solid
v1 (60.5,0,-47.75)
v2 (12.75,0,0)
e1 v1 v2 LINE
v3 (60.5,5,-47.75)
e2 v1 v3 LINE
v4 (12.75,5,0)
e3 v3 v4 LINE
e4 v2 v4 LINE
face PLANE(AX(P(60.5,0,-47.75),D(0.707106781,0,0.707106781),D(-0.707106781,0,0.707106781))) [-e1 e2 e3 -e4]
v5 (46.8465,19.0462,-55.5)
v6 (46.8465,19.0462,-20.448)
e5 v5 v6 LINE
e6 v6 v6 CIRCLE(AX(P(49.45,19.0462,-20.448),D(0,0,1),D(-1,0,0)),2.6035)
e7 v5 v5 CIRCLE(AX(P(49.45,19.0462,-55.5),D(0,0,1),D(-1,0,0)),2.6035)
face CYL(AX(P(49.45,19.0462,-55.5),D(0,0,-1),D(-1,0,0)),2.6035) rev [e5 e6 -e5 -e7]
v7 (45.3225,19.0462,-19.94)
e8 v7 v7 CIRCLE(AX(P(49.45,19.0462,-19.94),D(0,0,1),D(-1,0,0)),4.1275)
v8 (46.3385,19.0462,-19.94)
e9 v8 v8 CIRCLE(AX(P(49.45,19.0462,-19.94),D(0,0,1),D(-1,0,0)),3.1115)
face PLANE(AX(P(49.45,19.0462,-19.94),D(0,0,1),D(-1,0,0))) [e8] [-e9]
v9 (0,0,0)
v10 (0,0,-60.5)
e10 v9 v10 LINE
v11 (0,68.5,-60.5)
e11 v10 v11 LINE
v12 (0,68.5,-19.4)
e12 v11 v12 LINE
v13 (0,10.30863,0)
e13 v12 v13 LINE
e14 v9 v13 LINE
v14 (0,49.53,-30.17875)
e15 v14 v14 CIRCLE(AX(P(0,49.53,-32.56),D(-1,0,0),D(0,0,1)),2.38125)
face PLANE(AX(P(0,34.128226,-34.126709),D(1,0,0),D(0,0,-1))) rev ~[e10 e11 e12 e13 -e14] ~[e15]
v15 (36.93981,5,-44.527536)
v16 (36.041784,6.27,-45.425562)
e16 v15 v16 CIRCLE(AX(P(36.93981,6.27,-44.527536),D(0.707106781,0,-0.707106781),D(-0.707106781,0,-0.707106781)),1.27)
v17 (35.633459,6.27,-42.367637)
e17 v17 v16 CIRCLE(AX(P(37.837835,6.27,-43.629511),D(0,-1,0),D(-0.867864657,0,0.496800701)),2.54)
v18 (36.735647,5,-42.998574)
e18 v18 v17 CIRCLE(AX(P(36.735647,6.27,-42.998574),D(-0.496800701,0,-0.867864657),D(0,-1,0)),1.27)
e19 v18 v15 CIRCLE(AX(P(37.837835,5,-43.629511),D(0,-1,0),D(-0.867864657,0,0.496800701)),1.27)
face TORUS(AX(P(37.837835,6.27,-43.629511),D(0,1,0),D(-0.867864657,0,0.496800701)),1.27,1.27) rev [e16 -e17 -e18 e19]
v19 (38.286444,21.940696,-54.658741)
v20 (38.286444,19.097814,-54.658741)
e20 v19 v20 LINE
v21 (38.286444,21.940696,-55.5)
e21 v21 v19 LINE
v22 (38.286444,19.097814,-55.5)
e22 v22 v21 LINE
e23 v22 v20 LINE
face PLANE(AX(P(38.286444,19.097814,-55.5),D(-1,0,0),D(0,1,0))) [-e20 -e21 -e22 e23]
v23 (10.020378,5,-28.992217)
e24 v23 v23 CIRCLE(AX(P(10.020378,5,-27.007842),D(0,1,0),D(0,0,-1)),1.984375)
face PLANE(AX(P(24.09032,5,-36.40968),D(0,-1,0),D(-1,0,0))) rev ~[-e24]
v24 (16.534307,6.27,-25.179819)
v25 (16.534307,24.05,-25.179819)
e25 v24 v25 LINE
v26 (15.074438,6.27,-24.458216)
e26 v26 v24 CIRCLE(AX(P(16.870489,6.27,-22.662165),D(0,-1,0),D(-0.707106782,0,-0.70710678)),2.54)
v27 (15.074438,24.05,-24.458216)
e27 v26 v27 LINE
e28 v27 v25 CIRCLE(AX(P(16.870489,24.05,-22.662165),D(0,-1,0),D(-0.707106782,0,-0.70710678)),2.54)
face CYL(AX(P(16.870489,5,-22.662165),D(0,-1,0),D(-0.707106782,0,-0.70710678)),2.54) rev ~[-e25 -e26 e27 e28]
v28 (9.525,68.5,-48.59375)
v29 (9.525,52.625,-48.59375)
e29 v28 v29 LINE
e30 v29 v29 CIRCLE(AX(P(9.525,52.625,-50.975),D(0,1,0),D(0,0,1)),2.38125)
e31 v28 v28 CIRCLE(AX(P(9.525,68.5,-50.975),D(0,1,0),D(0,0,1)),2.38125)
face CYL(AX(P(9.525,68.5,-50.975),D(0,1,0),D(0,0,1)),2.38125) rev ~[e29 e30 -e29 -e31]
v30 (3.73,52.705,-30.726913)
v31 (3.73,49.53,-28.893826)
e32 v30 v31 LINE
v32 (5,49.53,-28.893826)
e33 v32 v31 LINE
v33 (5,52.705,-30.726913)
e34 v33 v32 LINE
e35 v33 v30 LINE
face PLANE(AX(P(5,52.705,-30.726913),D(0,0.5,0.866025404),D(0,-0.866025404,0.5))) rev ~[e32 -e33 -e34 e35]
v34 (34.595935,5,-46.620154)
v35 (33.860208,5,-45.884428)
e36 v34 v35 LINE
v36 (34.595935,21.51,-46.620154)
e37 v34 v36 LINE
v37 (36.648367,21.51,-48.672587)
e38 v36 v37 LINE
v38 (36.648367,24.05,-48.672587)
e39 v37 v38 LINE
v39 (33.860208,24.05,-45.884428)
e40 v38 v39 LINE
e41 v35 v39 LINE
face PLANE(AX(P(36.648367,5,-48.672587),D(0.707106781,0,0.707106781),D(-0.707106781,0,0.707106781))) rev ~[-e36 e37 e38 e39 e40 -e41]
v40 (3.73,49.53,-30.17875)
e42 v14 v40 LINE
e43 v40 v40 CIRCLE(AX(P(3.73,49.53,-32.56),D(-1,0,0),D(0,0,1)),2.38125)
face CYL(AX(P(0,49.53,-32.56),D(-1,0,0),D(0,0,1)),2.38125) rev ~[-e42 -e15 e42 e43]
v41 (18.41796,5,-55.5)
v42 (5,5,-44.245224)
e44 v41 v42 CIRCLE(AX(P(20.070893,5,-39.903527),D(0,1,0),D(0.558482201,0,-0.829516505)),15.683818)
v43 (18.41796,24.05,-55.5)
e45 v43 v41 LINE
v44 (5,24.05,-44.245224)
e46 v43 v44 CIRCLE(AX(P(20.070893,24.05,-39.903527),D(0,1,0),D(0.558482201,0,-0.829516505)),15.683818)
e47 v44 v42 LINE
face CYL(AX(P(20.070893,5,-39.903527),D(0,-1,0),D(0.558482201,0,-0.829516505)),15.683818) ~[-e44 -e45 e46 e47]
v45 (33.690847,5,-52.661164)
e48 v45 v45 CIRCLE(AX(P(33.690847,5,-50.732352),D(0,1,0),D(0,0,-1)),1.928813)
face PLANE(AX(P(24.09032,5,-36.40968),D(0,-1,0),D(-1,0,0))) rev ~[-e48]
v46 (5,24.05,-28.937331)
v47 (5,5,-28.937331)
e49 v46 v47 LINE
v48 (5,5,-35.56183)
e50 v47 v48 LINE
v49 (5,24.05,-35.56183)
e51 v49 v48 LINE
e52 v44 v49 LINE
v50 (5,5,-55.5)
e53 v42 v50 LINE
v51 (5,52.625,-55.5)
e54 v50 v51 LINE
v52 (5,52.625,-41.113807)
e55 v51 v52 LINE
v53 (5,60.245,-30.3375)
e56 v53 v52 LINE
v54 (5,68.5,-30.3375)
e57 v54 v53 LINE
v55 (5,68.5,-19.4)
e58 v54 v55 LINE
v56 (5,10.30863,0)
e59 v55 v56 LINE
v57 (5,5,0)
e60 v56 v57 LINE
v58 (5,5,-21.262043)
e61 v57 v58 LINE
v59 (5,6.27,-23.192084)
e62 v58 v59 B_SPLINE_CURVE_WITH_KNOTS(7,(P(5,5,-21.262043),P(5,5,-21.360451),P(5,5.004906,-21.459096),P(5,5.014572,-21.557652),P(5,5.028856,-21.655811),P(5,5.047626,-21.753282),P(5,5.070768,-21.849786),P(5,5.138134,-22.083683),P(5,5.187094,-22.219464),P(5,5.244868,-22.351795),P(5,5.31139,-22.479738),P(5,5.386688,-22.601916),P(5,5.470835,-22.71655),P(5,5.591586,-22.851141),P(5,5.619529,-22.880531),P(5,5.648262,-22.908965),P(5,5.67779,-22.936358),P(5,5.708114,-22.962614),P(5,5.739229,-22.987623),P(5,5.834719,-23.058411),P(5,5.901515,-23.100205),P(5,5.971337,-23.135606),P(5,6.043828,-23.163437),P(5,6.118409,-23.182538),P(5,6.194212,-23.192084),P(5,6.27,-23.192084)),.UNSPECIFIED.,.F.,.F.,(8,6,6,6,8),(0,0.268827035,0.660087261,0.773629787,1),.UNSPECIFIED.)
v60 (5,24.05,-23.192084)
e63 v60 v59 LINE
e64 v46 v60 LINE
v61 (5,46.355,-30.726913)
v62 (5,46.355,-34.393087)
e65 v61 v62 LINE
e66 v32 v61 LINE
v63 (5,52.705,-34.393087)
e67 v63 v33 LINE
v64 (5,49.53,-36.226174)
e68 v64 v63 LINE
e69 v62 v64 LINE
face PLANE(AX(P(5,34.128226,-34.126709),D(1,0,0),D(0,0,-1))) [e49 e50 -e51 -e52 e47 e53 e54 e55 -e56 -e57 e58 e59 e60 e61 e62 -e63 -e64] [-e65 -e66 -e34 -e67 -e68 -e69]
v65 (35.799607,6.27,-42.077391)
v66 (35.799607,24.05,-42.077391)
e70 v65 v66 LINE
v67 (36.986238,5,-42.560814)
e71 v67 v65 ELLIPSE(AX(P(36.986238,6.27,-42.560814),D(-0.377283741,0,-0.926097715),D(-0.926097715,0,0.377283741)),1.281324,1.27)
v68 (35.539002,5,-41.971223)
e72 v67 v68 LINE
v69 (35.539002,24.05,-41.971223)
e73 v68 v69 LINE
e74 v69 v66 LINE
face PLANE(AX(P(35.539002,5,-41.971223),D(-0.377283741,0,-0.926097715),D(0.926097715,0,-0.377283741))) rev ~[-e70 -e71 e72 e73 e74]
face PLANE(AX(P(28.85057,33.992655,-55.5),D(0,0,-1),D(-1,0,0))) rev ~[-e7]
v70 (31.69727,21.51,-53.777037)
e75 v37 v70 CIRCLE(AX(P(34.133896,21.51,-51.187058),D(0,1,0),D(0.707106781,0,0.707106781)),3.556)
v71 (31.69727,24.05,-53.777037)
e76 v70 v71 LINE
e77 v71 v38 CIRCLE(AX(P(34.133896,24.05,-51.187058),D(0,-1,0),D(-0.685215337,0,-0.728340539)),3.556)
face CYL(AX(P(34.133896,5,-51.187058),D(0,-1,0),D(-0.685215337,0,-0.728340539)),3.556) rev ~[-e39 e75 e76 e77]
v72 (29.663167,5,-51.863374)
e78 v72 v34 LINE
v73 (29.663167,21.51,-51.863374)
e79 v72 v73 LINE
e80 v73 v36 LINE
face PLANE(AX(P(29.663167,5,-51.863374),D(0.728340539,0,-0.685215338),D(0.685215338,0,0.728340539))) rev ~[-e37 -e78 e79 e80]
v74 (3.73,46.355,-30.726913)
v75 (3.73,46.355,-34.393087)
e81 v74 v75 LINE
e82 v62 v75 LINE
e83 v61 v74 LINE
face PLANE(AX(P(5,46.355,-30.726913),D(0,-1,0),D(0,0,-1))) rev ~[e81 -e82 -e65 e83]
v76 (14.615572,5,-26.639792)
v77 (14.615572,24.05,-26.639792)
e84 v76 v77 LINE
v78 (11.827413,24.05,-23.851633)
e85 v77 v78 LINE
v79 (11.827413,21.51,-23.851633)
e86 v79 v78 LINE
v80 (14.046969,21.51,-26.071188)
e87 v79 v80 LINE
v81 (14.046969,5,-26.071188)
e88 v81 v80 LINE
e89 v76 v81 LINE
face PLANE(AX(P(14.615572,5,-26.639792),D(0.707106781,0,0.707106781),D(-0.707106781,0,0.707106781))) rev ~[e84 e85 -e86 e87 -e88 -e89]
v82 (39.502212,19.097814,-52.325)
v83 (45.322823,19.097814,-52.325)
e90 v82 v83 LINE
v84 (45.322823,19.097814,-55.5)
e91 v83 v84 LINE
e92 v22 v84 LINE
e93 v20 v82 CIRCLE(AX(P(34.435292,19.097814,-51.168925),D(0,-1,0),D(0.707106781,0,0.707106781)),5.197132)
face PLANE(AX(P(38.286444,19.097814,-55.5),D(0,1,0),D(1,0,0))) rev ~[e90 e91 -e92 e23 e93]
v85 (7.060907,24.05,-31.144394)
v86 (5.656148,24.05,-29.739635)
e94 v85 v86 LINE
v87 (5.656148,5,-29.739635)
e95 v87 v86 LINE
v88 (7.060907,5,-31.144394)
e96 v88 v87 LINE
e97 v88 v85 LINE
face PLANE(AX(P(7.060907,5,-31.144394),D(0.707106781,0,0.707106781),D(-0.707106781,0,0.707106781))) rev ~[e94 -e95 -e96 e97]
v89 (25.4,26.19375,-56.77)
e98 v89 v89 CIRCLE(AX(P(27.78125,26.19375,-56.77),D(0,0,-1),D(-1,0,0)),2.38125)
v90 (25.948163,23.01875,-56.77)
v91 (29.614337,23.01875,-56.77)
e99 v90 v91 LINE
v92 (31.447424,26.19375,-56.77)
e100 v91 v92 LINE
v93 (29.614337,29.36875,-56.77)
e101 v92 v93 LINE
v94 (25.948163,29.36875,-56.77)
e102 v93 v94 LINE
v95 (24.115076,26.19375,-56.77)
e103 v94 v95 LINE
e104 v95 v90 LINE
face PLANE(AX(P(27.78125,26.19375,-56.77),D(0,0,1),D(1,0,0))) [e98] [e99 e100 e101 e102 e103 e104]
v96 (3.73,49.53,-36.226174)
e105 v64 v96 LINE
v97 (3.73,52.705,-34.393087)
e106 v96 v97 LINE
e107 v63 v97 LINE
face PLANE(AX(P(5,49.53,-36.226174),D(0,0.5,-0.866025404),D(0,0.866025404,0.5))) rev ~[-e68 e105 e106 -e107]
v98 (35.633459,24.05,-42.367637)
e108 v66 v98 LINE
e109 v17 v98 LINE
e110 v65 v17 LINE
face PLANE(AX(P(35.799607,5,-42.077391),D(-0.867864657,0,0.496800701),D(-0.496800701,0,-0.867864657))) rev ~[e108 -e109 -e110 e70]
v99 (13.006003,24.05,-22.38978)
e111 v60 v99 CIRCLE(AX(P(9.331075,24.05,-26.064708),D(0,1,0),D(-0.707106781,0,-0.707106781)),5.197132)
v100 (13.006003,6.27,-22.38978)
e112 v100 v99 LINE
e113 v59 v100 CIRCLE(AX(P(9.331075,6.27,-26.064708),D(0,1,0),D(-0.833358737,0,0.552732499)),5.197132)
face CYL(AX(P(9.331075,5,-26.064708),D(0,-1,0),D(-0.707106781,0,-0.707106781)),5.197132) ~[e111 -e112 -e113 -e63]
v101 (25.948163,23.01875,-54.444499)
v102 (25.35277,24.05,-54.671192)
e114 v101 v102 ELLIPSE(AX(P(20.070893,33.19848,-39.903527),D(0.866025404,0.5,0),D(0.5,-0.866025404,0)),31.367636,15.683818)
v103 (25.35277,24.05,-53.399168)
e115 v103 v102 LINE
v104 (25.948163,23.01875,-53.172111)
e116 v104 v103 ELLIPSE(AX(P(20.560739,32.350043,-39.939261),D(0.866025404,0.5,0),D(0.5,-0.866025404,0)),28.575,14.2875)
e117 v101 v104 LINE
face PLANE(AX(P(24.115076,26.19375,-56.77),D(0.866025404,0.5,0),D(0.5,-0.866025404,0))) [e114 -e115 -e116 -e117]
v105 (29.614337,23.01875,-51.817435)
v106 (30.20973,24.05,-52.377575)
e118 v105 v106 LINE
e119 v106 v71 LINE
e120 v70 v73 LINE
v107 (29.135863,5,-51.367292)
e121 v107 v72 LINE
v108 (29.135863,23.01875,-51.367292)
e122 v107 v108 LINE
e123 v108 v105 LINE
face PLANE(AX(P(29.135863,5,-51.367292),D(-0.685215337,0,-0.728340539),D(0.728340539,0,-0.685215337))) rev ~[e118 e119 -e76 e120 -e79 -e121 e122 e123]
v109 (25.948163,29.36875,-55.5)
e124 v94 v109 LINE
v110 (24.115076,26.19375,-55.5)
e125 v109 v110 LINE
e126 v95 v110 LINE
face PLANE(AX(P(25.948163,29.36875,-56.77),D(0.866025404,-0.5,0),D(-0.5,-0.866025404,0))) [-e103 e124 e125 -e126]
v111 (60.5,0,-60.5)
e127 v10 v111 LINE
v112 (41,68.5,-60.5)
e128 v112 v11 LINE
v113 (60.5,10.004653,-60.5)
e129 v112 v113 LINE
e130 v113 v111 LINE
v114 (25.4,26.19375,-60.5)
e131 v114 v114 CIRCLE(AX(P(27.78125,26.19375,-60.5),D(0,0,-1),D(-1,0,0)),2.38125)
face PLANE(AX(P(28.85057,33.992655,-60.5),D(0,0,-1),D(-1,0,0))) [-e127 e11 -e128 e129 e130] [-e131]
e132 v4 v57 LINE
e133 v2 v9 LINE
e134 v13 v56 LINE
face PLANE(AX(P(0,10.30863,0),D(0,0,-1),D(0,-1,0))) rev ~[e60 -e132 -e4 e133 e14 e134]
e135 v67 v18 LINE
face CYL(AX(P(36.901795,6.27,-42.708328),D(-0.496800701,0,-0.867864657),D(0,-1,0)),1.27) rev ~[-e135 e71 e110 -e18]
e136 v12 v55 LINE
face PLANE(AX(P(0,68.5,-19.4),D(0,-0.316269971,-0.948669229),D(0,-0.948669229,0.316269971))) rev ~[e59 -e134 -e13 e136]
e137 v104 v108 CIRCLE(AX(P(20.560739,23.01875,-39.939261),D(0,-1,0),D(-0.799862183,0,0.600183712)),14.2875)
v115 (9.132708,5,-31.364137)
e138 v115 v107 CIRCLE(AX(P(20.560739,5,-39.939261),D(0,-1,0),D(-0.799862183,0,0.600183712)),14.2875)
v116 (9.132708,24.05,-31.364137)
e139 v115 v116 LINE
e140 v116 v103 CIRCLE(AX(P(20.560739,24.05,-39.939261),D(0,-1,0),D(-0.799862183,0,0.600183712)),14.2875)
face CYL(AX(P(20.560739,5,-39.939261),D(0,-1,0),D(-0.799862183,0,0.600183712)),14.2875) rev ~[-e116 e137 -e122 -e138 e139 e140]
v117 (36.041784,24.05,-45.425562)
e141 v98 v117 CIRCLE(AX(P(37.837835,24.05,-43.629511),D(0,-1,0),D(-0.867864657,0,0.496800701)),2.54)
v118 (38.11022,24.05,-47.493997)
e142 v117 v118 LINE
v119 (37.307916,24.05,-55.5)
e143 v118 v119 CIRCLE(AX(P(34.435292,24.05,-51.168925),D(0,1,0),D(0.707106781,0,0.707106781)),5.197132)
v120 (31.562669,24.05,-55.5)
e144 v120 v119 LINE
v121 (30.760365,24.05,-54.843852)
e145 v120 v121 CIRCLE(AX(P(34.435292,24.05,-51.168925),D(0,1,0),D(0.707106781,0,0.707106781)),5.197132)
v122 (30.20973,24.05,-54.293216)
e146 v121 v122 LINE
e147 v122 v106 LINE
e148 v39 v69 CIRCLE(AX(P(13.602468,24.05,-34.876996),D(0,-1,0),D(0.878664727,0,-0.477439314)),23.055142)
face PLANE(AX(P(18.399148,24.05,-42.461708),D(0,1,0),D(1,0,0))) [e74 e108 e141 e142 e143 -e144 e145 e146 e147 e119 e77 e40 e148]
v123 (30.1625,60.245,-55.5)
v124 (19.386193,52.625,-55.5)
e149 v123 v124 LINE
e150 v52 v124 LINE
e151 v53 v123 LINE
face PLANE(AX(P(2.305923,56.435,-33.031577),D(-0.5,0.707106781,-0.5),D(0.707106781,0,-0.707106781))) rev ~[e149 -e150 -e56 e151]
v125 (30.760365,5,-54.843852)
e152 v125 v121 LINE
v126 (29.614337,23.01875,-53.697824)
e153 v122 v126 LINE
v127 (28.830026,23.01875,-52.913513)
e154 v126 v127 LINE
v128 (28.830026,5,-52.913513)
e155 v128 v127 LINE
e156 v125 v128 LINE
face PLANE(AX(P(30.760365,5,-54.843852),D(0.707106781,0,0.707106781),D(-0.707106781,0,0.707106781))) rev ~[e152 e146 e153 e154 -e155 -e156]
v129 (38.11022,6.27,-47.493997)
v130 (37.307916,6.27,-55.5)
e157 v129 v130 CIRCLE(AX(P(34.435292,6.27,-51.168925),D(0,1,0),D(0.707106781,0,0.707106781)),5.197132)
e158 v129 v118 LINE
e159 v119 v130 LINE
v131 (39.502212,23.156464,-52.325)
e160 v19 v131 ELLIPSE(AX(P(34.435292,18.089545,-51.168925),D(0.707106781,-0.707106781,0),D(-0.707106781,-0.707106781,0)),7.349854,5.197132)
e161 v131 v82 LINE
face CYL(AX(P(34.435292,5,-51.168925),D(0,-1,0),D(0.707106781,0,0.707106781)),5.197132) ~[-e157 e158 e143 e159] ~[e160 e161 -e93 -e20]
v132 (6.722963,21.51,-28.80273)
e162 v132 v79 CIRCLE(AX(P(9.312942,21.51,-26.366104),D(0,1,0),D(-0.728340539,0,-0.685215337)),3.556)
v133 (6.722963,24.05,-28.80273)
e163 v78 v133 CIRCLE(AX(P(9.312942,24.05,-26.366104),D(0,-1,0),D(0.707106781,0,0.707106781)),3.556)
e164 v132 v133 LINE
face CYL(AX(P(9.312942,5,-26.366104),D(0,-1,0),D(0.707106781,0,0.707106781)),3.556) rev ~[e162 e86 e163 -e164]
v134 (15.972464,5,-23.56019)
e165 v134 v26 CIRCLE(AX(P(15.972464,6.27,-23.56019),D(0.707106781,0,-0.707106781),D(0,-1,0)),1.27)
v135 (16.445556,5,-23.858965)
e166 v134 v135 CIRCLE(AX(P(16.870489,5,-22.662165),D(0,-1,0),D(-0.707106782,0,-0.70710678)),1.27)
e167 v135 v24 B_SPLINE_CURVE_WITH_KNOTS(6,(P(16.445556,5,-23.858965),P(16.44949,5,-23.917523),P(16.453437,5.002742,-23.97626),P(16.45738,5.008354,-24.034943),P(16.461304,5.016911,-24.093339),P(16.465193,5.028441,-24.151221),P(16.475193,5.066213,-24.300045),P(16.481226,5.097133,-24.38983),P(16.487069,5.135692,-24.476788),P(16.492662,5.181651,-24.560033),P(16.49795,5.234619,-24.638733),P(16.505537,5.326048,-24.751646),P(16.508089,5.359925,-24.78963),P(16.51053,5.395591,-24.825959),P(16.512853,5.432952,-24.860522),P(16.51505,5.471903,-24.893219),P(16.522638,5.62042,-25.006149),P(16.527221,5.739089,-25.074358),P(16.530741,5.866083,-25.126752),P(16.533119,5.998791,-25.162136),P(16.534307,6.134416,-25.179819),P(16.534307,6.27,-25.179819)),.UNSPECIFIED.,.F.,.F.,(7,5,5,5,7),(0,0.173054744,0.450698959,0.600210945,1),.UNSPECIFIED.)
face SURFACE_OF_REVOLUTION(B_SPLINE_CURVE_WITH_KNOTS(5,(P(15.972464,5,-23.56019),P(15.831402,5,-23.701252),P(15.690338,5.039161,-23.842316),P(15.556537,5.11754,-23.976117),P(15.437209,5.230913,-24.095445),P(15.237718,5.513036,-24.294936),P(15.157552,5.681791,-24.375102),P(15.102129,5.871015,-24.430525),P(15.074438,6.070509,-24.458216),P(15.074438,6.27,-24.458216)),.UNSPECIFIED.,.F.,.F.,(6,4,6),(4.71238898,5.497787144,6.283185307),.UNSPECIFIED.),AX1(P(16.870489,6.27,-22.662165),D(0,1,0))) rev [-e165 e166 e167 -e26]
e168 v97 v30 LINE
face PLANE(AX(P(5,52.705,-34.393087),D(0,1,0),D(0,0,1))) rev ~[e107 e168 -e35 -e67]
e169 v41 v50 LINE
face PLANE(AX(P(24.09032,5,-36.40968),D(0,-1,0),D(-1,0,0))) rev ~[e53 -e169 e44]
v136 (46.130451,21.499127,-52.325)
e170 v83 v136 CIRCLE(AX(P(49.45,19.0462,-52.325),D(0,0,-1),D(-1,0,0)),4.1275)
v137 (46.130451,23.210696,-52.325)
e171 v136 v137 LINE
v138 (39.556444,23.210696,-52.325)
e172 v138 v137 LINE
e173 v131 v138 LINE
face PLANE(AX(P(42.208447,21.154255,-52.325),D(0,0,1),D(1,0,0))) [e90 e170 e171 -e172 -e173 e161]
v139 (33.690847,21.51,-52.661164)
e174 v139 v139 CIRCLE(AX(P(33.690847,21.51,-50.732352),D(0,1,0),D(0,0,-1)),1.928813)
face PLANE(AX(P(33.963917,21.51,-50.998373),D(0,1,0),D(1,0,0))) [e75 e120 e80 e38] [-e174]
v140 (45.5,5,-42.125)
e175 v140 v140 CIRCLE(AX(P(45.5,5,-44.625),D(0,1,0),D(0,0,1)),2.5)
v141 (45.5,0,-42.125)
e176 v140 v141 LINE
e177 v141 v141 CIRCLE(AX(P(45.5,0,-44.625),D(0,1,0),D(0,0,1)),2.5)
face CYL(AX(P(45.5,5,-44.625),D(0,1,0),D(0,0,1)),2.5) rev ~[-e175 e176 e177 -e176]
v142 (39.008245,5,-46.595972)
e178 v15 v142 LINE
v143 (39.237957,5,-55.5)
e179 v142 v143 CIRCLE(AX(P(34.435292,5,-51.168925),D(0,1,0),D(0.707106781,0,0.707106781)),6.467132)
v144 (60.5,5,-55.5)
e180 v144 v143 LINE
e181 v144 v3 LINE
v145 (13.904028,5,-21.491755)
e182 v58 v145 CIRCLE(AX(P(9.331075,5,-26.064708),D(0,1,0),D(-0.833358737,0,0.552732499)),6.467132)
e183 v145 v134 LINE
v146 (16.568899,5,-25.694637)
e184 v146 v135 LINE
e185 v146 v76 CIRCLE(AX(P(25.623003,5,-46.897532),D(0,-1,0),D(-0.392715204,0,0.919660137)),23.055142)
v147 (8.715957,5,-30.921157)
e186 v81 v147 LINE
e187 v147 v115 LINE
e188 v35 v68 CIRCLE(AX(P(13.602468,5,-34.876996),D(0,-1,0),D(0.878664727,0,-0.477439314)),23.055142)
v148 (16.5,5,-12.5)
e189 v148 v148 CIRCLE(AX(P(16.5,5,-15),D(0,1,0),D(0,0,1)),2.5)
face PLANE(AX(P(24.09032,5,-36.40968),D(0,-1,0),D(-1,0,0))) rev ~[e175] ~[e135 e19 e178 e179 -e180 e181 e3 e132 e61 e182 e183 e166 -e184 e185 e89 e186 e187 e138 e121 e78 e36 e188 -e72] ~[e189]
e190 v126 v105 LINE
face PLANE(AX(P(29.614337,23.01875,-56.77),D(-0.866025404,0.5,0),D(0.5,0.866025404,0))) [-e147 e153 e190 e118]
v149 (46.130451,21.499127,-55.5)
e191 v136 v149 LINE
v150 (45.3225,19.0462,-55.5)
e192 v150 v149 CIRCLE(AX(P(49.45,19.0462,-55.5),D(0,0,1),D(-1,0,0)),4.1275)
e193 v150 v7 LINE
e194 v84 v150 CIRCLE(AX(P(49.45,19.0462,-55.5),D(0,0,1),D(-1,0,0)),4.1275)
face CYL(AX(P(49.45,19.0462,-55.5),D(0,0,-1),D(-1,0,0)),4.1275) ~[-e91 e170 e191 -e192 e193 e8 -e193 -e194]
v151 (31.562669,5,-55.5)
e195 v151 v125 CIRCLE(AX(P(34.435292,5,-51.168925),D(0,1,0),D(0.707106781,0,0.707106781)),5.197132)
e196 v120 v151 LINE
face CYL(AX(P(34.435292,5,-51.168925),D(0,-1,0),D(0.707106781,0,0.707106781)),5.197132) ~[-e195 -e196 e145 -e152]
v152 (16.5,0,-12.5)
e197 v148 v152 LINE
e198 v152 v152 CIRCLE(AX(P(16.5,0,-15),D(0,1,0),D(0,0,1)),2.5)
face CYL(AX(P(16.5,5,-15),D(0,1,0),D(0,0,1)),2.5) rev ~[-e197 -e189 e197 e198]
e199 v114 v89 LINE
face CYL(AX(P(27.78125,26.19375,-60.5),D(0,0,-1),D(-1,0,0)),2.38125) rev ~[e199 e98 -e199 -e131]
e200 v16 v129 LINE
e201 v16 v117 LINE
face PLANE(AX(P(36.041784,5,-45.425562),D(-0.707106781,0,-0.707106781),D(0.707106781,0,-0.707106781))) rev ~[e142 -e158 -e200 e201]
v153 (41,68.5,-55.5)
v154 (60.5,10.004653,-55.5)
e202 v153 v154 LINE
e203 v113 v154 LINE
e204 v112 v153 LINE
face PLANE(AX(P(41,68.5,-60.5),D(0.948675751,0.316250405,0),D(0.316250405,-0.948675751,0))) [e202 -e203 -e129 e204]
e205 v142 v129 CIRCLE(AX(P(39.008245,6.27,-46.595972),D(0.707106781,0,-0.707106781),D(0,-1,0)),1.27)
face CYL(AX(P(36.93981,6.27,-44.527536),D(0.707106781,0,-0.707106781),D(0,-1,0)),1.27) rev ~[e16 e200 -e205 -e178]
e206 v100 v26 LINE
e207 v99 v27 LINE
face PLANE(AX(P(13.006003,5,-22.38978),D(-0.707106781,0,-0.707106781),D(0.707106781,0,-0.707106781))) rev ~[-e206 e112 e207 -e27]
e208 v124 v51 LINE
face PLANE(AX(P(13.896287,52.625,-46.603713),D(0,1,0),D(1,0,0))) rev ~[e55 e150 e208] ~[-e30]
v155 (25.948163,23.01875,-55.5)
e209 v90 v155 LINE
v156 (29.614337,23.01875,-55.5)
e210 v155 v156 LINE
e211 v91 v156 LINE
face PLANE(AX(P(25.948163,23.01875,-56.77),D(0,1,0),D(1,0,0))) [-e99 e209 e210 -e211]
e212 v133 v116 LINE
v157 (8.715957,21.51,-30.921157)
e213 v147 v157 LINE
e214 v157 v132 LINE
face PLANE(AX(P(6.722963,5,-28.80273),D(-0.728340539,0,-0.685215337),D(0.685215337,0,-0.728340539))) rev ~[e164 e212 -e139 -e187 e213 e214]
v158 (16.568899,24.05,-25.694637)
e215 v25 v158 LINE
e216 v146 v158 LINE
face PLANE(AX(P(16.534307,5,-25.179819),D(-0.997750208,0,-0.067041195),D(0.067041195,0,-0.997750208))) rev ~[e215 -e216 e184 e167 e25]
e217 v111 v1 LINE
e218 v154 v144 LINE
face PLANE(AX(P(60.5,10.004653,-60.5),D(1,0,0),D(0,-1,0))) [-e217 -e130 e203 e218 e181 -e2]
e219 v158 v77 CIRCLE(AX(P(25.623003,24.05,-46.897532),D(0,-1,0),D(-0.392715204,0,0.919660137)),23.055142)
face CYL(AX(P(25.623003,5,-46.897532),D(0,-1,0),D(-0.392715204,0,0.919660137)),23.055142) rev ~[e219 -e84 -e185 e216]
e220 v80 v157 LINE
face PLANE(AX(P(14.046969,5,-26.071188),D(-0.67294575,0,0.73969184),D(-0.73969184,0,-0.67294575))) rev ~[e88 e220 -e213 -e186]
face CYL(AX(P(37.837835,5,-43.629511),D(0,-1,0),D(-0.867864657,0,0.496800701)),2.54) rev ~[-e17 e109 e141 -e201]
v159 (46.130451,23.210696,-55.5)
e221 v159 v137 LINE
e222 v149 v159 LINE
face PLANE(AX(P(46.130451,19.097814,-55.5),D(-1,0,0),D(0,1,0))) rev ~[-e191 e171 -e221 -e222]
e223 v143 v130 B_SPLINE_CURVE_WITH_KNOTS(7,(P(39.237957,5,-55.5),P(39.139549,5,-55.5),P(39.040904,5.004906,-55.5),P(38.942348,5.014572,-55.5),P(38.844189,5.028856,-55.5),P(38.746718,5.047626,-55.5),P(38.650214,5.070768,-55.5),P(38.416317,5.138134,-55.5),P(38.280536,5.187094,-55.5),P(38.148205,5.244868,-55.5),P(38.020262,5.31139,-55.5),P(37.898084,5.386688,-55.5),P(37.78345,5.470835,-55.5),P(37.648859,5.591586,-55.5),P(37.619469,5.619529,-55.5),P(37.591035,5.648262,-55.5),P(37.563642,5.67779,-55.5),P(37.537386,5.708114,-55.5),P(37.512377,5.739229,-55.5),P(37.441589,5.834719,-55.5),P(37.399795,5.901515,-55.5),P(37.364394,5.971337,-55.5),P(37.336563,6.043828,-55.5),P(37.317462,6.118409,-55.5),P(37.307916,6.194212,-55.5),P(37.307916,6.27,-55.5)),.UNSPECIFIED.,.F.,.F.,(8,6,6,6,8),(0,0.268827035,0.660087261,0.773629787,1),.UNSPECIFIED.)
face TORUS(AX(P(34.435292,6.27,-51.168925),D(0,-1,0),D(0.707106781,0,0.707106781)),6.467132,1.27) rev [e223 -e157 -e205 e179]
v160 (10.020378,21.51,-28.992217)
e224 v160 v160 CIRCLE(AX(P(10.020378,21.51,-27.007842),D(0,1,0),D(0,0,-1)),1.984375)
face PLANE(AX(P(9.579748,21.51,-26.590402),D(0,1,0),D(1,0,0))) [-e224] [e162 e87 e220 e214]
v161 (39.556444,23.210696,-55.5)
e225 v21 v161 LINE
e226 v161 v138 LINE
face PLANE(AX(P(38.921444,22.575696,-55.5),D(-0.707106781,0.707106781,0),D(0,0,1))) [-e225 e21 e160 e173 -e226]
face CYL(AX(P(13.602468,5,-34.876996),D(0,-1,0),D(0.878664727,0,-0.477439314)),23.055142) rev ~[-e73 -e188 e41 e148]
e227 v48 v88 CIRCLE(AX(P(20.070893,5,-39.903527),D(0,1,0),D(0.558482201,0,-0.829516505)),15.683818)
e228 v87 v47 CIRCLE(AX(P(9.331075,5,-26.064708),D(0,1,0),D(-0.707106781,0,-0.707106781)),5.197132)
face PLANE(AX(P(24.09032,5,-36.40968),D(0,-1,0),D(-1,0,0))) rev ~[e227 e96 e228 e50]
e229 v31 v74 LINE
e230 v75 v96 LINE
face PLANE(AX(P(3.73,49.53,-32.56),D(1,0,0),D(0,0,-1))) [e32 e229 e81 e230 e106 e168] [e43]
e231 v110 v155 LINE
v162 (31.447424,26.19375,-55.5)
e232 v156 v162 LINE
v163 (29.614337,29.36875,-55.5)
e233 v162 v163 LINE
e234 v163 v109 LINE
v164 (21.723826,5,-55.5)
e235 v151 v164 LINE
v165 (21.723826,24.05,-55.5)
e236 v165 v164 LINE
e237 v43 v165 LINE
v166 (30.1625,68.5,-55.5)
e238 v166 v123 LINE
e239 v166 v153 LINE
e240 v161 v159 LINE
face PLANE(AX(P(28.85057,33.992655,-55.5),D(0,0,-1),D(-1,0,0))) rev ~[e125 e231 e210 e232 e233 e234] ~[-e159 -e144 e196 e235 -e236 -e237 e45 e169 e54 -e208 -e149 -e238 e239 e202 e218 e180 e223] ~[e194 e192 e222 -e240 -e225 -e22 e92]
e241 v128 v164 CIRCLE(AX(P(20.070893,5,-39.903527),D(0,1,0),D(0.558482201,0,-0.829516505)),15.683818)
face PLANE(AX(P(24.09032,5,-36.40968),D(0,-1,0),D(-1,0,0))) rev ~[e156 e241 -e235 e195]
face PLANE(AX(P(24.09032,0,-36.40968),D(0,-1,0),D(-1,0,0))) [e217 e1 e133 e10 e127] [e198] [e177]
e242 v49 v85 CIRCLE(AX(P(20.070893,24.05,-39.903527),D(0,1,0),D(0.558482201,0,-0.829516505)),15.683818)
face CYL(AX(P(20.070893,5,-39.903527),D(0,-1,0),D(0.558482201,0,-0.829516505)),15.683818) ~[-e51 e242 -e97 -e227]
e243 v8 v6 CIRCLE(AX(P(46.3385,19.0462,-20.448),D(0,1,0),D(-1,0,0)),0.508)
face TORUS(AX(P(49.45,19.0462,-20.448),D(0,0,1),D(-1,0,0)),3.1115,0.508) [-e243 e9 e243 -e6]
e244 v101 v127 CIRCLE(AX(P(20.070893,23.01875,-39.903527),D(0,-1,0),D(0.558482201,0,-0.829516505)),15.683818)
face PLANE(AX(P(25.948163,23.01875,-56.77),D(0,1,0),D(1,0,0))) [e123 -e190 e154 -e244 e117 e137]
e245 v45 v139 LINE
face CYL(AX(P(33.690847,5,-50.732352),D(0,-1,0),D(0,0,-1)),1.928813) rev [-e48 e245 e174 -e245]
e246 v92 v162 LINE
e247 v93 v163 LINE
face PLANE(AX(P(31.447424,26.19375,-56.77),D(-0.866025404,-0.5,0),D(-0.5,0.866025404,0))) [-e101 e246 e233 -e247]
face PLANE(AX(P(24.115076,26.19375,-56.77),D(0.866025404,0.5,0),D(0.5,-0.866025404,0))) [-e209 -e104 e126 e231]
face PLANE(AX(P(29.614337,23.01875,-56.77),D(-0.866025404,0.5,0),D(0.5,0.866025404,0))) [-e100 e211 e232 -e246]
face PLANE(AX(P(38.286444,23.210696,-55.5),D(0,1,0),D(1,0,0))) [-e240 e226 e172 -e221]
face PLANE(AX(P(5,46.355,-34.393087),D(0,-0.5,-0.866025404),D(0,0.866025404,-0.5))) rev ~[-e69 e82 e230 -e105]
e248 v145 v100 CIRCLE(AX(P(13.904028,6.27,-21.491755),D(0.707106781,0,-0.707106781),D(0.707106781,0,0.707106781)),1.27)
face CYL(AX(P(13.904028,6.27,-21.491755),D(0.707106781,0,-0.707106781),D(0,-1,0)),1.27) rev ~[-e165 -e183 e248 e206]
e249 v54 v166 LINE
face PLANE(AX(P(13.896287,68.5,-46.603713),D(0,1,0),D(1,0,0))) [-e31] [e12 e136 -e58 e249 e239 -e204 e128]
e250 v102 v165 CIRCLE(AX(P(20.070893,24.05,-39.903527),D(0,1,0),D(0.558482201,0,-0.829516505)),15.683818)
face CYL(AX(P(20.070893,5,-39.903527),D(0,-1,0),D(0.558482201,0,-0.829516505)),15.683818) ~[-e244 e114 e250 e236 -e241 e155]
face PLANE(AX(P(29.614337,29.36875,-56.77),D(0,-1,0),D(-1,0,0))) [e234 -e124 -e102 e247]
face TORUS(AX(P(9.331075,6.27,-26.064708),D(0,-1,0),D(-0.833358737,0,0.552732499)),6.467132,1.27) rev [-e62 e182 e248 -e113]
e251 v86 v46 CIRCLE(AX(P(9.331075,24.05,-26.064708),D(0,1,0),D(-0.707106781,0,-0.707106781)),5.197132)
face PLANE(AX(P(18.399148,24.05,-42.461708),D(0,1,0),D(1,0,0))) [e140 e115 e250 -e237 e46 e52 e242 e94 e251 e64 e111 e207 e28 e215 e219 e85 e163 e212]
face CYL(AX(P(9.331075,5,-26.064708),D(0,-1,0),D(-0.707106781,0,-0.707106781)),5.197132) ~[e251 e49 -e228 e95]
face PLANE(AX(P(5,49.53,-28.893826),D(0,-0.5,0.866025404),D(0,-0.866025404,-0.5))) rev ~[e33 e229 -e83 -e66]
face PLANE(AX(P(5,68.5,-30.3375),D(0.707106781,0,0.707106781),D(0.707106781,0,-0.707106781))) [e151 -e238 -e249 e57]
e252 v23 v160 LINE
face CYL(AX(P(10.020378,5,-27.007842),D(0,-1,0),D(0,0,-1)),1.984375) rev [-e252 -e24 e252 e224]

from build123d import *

# Parameters (mm, degrees)
BOSS_EXTRUDE1_DEPTH     = 5
BOSS_EXTRUDE2_DEPTH     = 5
BOSS_EXTRUDE3_DEPTH     = 5
SKETCH6_R               = 2.5
CUT_EXTRUDE1_DEPTH      = 107.549284371
SKETCH9_R               = 4.1275
SKETCH9_R_2             = 2.6035
BOSS_EXTRUDE5_DEPTH     = 35.56
FILLET1_R               = 0.508
BOSS_EXTRUDE6_DEPTH     = 19.05
SKETCH15_R              = 2.38125
BOSS_EXTRUDE7_DEPTH     = 15.875
CHAMFER2_SIZE           = 7.62
FILLET2_R               = 1.27
SKETCH16_W              = 7.844007501
SKETCH16_H              = 4.112882263
BOSS_EXTRUDE8_DEPTH     = 3.175
CHAMFER3_SIZE           = 1.27
SKETCH17_R              = 1.984375
SKETCH17_R_2            = 1.9288125
BOSS_EXTRUDE9_DEPTH     = 16.51
CUT_EXTRUDE2_REACH      = 111.603
SKETCH18_R              = 2.38125
CUT_EXTRUDE3_REACH      = 111.603
SKETCH19_R              = 2.38125
CUT_EXTRUDE4_DEPTH      = 4.13271
CUT_EXTRUDE4_DEPTH_BACK = 1.27
CUT_EXTRUDE5_DEPTH      = 1.27


with BuildPart() as part:
    # Sketch1 → Boss-Extrude1 (new body)
    with BuildSketch(Plane(origin=(0, 0, 0), x_dir=(1, 0, 0), z_dir=(0, 1, 0))):
        Polygon((0, 0), (0, 60.5), (60.5, 60.5), (60.5, 47.75), (12.75, 0), align=None)
    extrude(amount=BOSS_EXTRUDE1_DEPTH)

    # Sketch4 → Boss-Extrude2 (add)
    with BuildSketch(Plane.ZY):
        Polygon((-60.5, 5), (-60.5, 68.5), (-19.4, 68.5), (0, 10.308629506), (0, 5), align=None)
    extrude(amount=-BOSS_EXTRUDE2_DEPTH)

    # Sketch5 → Boss-Extrude3 (add)
    with BuildSketch(Plane(origin=(0, 0, -60.5), x_dir=(-1, 0, 0), z_dir=(0, 0, -1))):
        Polygon((-5, 5), (-5, 68.5), (-41, 68.5), (-60.5, 10.004653177), (-60.5, 5), align=None)
    extrude(amount=-BOSS_EXTRUDE3_DEPTH)

    # Sketch6 → Cut-Extrude1 (cut, through all)
    with BuildSketch(Plane(origin=(0, 5, 0), x_dir=(1, 0, 0), z_dir=(0, 1, 0))):
        with Locations(Location((16.5, 15, 0), (0, 0, 270))):
            Circle(SKETCH6_R)
        with Locations(Location((45.5, 44.625, 0), (0, 0, 270))):
            Circle(SKETCH6_R)
    extrude(amount=-CUT_EXTRUDE1_DEPTH, mode=Mode.SUBTRACT)

    # Sketch9 → Boss-Extrude5 (add)
    with BuildSketch(Plane.XY.offset(-55.5)):
        with Locations(Location((49.45, 19.0462, 0), (0, 0, 180))):
            Circle(SKETCH9_R)
        with Locations(Location((49.45, 19.0462, 0), (0, 0, 180))):
            Circle(SKETCH9_R_2, mode=Mode.SUBTRACT)
    extrude(amount=BOSS_EXTRUDE5_DEPTH)

    # Fillet1
    fillet1_edges = [part.edges().sort_by_distance(p)[0] for p in [
        (52.0535, 19.0462, -19.94),
    ]]
    fillet(fillet1_edges, radius=FILLET1_R)

    # Sketch14 → Boss-Extrude6 (add)
    with BuildSketch(Plane(origin=(0, 5, 0), x_dir=(1, 0, 0), z_dir=(0, 1, 0))):
        with BuildLine():
            Line((6.722962691, 28.802730135), (9.132707699, 31.364136576))
            ThreePointArc((9.132707699, 31.364136576), (10.457950503, 50.042049497), (29.135863424, 51.367292301))
            Line((29.135863424, 51.367292301), (31.697269865, 53.777037309))
            ThreePointArc((31.697269865, 53.777037309), (36.686417723, 53.662894944), (36.648367319, 48.672586637))
            Line((36.648367319, 48.672586637), (33.860208422, 45.884427741))
            ThreePointArc((33.860208422, 45.884427741), (34.790141211, 43.96666613), (35.539002262, 41.971223395))
            Line((35.539002262, 41.971223395), (35.799607225, 42.077391474))
            Line((35.799607225, 42.077391474), (35.633459083, 42.367636838))
            ThreePointArc((35.633459083, 42.367636838), (35.320181387, 43.965693178), (36.041784088, 45.425561844))
            Line((36.041784088, 45.425561844), (38.110219678, 47.493997435))
            ThreePointArc((38.110219678, 47.493997435), (38.110219678, 54.843851927), (30.760365187, 54.843851927))
            Line((30.760365187, 54.843851927), (28.830026438, 52.913513178))
            ThreePointArc((28.830026438, 52.913513178), (8.980759009, 50.993661336), (7.060907167, 31.144393908))
            Line((7.060907167, 31.144393908), (5.656148073, 29.739634813))
            ThreePointArc((5.656148073, 29.739634813), (5.656148073, 22.389780322), (13.006002565, 22.389780322))
            Line((13.006002565, 22.389780322), (15.074438156, 24.458215912))
            ThreePointArc((15.074438156, 24.458215912), (15.744974902, 24.939184047), (16.534306822, 25.179818613))
            Line((16.534306822, 25.179818613), (16.568898656, 25.694636548))
            ThreePointArc((16.568898656, 25.694636548), (15.581109404, 26.144220149), (14.615572259, 26.639791578))
            Line((14.615572259, 26.639791578), (11.827413363, 23.851632681))
            ThreePointArc((11.827413363, 23.851632681), (6.837105056, 23.813582277), (6.722962691, 28.802730135))
        make_face()
    extrude(amount=BOSS_EXTRUDE6_DEPTH)

    # Sketch15 → Boss-Extrude7 (add)
    with BuildSketch(Plane(origin=(0, 68.5, 0), x_dir=(1, 0, 0), z_dir=(0, 1, 0))):
        Polygon((5, 55.5), (5, 30.3375), (30.1625, 55.5), align=None)
        with Locations(Location((9.525, 50.975, 0), (0, 0, 270))):
            Circle(SKETCH15_R, mode=Mode.SUBTRACT)
    extrude(amount=-BOSS_EXTRUDE7_DEPTH)

    # Chamfer2
    chamfer2_edges = [part.edges().sort_by_distance(p)[0] for p in [
        (17.58125, 52.625, -42.91875),
    ]]
    chamfer(chamfer2_edges, length=CHAMFER2_SIZE)

    # Fillet2
    fillet2_edges = [part.edges().sort_by_distance(p)[0] for p in [
        (15.744974902, 5, -24.939184047),
        (14.04022036, 5, -23.423998117),
        (8.812852099, 5, -20.893477035),
        (35.320181387, 5, -43.965693178),
        (35.716533154, 5, -42.222514156),
        (37.076001883, 5, -46.45977964),
        (39.606522965, 5, -51.687147901),
    ]]
    fillet(fillet2_edges, radius=FILLET2_R)

    # Sketch16 → Boss-Extrude8 (add)
    with BuildSketch(Plane.XY.offset(-55.5)):
        with Locations((42.208447341, 21.154254949)):
            Rectangle(SKETCH16_W, SKETCH16_H)
    extrude(amount=BOSS_EXTRUDE8_DEPTH)

    # Chamfer3
    chamfer3_edges = [part.edges().sort_by_distance(p)[0] for p in [
        (38.28644359, 23.21069608, -55.07937031),
    ]]
    chamfer(chamfer3_edges, length=CHAMFER3_SIZE)

    # Sketch17 → Boss-Extrude9 (add)
    # profile 1 of 2: a face of its own
    with BuildSketch(Plane(origin=(0, 5, 0), x_dir=(1, 0, 0), z_dir=(0, 1, 0))):
        with BuildLine():
            Line((14.046968971, 26.071188289), (8.715956726, 30.921156666))
            Line((8.715956726, 30.921156666), (6.722962691, 28.802730135))
            ThreePointArc((6.722962691, 28.802730135), (6.837105056, 23.813582277), (11.827413363, 23.851632681))
            Line((11.827413363, 23.851632681), (14.046968971, 26.071188289))
        make_face()
        with Locations(Location((10.020377911, 27.007841876, 0), (0, 0, 90))):
            Circle(SKETCH17_R, mode=Mode.SUBTRACT)
    # profile 2 of 2: a face of its own
    with BuildSketch(Plane(origin=(0, 5, 0), x_dir=(1, 0, 0), z_dir=(0, 1, 0))):
        with BuildLine():
            Line((31.697269865, 53.777037309), (29.66316707, 51.863374183))
            Line((29.66316707, 51.863374183), (34.595934869, 46.620154187))
            Line((34.595934869, 46.620154187), (36.648367319, 48.672586637))
            ThreePointArc((36.648367319, 48.672586637), (36.686417723, 53.662894944), (31.697269865, 53.777037309))
        make_face()
        with Locations(Location((33.690847255, 50.732351927, 0), (0, 0, 90))):
            Circle(SKETCH17_R_2, mode=Mode.SUBTRACT)
    extrude(amount=BOSS_EXTRUDE9_DEPTH)

    # Sketch18 → Cut-Extrude2 (cut, up to next)
    with BuildSketch(Plane.ZY, mode=Mode.PRIVATE) as cut_extrude2_sk1:
        with Locations((-32.56, 49.53)):
            Circle(SKETCH18_R)
    cut_extrude2_tool1 = extrude(cut_extrude2_sk1.sketch, amount=-CUT_EXTRUDE2_REACH, mode=Mode.PRIVATE) & part.part
    add(cut_extrude2_tool1.solids().sort_by_distance((0, 49.53, -32.56))[0], mode=Mode.SUBTRACT)

    # Sketch19 → Cut-Extrude3 (cut, up to next)
    with BuildSketch(Plane(origin=(0, 0, -60.5), x_dir=(-1, 0, 0), z_dir=(0, 0, -1)), mode=Mode.PRIVATE) as cut_extrude3_sk1:
        with Locations((-27.78125, 26.19375)):
            Circle(SKETCH19_R)
    cut_extrude3_tool1 = extrude(cut_extrude3_sk1.sketch, amount=-CUT_EXTRUDE3_REACH, mode=Mode.PRIVATE) & part.part
    add(cut_extrude3_tool1.solids().sort_by_distance((27.78125, 26.19375, -60.5))[0], mode=Mode.SUBTRACT)

    # Sketch20 → Cut-Extrude4 (cut, two sides: drawn at the far end of the back side and taken through both)
    with BuildSketch(Plane.XY.offset(-55.5).offset(-CUT_EXTRUDE4_DEPTH_BACK)):
        Polygon((31.447424209, 26.19375), (29.614337105, 29.36875), (25.948162895, 29.36875), (24.115075791, 26.19375), (25.948162895, 23.01875), (29.614337105, 23.01875), align=None)
    extrude(amount=CUT_EXTRUDE4_DEPTH + CUT_EXTRUDE4_DEPTH_BACK, mode=Mode.SUBTRACT)

    # Sketch21 → Cut-Extrude5 (cut)
    with BuildSketch(Plane(origin=(5, 0, 0), x_dir=(0, 0, -1), z_dir=(1, 0, 0))):
        Polygon((34.393087105, 52.705), (30.726912895, 52.705), (28.893825791, 49.53), (30.726912895, 46.355), (34.393087105, 46.355), (36.226174209, 49.53), align=None)
    extrude(amount=-CUT_EXTRUDE5_DEPTH, mode=Mode.SUBTRACT)


solid = part.part
